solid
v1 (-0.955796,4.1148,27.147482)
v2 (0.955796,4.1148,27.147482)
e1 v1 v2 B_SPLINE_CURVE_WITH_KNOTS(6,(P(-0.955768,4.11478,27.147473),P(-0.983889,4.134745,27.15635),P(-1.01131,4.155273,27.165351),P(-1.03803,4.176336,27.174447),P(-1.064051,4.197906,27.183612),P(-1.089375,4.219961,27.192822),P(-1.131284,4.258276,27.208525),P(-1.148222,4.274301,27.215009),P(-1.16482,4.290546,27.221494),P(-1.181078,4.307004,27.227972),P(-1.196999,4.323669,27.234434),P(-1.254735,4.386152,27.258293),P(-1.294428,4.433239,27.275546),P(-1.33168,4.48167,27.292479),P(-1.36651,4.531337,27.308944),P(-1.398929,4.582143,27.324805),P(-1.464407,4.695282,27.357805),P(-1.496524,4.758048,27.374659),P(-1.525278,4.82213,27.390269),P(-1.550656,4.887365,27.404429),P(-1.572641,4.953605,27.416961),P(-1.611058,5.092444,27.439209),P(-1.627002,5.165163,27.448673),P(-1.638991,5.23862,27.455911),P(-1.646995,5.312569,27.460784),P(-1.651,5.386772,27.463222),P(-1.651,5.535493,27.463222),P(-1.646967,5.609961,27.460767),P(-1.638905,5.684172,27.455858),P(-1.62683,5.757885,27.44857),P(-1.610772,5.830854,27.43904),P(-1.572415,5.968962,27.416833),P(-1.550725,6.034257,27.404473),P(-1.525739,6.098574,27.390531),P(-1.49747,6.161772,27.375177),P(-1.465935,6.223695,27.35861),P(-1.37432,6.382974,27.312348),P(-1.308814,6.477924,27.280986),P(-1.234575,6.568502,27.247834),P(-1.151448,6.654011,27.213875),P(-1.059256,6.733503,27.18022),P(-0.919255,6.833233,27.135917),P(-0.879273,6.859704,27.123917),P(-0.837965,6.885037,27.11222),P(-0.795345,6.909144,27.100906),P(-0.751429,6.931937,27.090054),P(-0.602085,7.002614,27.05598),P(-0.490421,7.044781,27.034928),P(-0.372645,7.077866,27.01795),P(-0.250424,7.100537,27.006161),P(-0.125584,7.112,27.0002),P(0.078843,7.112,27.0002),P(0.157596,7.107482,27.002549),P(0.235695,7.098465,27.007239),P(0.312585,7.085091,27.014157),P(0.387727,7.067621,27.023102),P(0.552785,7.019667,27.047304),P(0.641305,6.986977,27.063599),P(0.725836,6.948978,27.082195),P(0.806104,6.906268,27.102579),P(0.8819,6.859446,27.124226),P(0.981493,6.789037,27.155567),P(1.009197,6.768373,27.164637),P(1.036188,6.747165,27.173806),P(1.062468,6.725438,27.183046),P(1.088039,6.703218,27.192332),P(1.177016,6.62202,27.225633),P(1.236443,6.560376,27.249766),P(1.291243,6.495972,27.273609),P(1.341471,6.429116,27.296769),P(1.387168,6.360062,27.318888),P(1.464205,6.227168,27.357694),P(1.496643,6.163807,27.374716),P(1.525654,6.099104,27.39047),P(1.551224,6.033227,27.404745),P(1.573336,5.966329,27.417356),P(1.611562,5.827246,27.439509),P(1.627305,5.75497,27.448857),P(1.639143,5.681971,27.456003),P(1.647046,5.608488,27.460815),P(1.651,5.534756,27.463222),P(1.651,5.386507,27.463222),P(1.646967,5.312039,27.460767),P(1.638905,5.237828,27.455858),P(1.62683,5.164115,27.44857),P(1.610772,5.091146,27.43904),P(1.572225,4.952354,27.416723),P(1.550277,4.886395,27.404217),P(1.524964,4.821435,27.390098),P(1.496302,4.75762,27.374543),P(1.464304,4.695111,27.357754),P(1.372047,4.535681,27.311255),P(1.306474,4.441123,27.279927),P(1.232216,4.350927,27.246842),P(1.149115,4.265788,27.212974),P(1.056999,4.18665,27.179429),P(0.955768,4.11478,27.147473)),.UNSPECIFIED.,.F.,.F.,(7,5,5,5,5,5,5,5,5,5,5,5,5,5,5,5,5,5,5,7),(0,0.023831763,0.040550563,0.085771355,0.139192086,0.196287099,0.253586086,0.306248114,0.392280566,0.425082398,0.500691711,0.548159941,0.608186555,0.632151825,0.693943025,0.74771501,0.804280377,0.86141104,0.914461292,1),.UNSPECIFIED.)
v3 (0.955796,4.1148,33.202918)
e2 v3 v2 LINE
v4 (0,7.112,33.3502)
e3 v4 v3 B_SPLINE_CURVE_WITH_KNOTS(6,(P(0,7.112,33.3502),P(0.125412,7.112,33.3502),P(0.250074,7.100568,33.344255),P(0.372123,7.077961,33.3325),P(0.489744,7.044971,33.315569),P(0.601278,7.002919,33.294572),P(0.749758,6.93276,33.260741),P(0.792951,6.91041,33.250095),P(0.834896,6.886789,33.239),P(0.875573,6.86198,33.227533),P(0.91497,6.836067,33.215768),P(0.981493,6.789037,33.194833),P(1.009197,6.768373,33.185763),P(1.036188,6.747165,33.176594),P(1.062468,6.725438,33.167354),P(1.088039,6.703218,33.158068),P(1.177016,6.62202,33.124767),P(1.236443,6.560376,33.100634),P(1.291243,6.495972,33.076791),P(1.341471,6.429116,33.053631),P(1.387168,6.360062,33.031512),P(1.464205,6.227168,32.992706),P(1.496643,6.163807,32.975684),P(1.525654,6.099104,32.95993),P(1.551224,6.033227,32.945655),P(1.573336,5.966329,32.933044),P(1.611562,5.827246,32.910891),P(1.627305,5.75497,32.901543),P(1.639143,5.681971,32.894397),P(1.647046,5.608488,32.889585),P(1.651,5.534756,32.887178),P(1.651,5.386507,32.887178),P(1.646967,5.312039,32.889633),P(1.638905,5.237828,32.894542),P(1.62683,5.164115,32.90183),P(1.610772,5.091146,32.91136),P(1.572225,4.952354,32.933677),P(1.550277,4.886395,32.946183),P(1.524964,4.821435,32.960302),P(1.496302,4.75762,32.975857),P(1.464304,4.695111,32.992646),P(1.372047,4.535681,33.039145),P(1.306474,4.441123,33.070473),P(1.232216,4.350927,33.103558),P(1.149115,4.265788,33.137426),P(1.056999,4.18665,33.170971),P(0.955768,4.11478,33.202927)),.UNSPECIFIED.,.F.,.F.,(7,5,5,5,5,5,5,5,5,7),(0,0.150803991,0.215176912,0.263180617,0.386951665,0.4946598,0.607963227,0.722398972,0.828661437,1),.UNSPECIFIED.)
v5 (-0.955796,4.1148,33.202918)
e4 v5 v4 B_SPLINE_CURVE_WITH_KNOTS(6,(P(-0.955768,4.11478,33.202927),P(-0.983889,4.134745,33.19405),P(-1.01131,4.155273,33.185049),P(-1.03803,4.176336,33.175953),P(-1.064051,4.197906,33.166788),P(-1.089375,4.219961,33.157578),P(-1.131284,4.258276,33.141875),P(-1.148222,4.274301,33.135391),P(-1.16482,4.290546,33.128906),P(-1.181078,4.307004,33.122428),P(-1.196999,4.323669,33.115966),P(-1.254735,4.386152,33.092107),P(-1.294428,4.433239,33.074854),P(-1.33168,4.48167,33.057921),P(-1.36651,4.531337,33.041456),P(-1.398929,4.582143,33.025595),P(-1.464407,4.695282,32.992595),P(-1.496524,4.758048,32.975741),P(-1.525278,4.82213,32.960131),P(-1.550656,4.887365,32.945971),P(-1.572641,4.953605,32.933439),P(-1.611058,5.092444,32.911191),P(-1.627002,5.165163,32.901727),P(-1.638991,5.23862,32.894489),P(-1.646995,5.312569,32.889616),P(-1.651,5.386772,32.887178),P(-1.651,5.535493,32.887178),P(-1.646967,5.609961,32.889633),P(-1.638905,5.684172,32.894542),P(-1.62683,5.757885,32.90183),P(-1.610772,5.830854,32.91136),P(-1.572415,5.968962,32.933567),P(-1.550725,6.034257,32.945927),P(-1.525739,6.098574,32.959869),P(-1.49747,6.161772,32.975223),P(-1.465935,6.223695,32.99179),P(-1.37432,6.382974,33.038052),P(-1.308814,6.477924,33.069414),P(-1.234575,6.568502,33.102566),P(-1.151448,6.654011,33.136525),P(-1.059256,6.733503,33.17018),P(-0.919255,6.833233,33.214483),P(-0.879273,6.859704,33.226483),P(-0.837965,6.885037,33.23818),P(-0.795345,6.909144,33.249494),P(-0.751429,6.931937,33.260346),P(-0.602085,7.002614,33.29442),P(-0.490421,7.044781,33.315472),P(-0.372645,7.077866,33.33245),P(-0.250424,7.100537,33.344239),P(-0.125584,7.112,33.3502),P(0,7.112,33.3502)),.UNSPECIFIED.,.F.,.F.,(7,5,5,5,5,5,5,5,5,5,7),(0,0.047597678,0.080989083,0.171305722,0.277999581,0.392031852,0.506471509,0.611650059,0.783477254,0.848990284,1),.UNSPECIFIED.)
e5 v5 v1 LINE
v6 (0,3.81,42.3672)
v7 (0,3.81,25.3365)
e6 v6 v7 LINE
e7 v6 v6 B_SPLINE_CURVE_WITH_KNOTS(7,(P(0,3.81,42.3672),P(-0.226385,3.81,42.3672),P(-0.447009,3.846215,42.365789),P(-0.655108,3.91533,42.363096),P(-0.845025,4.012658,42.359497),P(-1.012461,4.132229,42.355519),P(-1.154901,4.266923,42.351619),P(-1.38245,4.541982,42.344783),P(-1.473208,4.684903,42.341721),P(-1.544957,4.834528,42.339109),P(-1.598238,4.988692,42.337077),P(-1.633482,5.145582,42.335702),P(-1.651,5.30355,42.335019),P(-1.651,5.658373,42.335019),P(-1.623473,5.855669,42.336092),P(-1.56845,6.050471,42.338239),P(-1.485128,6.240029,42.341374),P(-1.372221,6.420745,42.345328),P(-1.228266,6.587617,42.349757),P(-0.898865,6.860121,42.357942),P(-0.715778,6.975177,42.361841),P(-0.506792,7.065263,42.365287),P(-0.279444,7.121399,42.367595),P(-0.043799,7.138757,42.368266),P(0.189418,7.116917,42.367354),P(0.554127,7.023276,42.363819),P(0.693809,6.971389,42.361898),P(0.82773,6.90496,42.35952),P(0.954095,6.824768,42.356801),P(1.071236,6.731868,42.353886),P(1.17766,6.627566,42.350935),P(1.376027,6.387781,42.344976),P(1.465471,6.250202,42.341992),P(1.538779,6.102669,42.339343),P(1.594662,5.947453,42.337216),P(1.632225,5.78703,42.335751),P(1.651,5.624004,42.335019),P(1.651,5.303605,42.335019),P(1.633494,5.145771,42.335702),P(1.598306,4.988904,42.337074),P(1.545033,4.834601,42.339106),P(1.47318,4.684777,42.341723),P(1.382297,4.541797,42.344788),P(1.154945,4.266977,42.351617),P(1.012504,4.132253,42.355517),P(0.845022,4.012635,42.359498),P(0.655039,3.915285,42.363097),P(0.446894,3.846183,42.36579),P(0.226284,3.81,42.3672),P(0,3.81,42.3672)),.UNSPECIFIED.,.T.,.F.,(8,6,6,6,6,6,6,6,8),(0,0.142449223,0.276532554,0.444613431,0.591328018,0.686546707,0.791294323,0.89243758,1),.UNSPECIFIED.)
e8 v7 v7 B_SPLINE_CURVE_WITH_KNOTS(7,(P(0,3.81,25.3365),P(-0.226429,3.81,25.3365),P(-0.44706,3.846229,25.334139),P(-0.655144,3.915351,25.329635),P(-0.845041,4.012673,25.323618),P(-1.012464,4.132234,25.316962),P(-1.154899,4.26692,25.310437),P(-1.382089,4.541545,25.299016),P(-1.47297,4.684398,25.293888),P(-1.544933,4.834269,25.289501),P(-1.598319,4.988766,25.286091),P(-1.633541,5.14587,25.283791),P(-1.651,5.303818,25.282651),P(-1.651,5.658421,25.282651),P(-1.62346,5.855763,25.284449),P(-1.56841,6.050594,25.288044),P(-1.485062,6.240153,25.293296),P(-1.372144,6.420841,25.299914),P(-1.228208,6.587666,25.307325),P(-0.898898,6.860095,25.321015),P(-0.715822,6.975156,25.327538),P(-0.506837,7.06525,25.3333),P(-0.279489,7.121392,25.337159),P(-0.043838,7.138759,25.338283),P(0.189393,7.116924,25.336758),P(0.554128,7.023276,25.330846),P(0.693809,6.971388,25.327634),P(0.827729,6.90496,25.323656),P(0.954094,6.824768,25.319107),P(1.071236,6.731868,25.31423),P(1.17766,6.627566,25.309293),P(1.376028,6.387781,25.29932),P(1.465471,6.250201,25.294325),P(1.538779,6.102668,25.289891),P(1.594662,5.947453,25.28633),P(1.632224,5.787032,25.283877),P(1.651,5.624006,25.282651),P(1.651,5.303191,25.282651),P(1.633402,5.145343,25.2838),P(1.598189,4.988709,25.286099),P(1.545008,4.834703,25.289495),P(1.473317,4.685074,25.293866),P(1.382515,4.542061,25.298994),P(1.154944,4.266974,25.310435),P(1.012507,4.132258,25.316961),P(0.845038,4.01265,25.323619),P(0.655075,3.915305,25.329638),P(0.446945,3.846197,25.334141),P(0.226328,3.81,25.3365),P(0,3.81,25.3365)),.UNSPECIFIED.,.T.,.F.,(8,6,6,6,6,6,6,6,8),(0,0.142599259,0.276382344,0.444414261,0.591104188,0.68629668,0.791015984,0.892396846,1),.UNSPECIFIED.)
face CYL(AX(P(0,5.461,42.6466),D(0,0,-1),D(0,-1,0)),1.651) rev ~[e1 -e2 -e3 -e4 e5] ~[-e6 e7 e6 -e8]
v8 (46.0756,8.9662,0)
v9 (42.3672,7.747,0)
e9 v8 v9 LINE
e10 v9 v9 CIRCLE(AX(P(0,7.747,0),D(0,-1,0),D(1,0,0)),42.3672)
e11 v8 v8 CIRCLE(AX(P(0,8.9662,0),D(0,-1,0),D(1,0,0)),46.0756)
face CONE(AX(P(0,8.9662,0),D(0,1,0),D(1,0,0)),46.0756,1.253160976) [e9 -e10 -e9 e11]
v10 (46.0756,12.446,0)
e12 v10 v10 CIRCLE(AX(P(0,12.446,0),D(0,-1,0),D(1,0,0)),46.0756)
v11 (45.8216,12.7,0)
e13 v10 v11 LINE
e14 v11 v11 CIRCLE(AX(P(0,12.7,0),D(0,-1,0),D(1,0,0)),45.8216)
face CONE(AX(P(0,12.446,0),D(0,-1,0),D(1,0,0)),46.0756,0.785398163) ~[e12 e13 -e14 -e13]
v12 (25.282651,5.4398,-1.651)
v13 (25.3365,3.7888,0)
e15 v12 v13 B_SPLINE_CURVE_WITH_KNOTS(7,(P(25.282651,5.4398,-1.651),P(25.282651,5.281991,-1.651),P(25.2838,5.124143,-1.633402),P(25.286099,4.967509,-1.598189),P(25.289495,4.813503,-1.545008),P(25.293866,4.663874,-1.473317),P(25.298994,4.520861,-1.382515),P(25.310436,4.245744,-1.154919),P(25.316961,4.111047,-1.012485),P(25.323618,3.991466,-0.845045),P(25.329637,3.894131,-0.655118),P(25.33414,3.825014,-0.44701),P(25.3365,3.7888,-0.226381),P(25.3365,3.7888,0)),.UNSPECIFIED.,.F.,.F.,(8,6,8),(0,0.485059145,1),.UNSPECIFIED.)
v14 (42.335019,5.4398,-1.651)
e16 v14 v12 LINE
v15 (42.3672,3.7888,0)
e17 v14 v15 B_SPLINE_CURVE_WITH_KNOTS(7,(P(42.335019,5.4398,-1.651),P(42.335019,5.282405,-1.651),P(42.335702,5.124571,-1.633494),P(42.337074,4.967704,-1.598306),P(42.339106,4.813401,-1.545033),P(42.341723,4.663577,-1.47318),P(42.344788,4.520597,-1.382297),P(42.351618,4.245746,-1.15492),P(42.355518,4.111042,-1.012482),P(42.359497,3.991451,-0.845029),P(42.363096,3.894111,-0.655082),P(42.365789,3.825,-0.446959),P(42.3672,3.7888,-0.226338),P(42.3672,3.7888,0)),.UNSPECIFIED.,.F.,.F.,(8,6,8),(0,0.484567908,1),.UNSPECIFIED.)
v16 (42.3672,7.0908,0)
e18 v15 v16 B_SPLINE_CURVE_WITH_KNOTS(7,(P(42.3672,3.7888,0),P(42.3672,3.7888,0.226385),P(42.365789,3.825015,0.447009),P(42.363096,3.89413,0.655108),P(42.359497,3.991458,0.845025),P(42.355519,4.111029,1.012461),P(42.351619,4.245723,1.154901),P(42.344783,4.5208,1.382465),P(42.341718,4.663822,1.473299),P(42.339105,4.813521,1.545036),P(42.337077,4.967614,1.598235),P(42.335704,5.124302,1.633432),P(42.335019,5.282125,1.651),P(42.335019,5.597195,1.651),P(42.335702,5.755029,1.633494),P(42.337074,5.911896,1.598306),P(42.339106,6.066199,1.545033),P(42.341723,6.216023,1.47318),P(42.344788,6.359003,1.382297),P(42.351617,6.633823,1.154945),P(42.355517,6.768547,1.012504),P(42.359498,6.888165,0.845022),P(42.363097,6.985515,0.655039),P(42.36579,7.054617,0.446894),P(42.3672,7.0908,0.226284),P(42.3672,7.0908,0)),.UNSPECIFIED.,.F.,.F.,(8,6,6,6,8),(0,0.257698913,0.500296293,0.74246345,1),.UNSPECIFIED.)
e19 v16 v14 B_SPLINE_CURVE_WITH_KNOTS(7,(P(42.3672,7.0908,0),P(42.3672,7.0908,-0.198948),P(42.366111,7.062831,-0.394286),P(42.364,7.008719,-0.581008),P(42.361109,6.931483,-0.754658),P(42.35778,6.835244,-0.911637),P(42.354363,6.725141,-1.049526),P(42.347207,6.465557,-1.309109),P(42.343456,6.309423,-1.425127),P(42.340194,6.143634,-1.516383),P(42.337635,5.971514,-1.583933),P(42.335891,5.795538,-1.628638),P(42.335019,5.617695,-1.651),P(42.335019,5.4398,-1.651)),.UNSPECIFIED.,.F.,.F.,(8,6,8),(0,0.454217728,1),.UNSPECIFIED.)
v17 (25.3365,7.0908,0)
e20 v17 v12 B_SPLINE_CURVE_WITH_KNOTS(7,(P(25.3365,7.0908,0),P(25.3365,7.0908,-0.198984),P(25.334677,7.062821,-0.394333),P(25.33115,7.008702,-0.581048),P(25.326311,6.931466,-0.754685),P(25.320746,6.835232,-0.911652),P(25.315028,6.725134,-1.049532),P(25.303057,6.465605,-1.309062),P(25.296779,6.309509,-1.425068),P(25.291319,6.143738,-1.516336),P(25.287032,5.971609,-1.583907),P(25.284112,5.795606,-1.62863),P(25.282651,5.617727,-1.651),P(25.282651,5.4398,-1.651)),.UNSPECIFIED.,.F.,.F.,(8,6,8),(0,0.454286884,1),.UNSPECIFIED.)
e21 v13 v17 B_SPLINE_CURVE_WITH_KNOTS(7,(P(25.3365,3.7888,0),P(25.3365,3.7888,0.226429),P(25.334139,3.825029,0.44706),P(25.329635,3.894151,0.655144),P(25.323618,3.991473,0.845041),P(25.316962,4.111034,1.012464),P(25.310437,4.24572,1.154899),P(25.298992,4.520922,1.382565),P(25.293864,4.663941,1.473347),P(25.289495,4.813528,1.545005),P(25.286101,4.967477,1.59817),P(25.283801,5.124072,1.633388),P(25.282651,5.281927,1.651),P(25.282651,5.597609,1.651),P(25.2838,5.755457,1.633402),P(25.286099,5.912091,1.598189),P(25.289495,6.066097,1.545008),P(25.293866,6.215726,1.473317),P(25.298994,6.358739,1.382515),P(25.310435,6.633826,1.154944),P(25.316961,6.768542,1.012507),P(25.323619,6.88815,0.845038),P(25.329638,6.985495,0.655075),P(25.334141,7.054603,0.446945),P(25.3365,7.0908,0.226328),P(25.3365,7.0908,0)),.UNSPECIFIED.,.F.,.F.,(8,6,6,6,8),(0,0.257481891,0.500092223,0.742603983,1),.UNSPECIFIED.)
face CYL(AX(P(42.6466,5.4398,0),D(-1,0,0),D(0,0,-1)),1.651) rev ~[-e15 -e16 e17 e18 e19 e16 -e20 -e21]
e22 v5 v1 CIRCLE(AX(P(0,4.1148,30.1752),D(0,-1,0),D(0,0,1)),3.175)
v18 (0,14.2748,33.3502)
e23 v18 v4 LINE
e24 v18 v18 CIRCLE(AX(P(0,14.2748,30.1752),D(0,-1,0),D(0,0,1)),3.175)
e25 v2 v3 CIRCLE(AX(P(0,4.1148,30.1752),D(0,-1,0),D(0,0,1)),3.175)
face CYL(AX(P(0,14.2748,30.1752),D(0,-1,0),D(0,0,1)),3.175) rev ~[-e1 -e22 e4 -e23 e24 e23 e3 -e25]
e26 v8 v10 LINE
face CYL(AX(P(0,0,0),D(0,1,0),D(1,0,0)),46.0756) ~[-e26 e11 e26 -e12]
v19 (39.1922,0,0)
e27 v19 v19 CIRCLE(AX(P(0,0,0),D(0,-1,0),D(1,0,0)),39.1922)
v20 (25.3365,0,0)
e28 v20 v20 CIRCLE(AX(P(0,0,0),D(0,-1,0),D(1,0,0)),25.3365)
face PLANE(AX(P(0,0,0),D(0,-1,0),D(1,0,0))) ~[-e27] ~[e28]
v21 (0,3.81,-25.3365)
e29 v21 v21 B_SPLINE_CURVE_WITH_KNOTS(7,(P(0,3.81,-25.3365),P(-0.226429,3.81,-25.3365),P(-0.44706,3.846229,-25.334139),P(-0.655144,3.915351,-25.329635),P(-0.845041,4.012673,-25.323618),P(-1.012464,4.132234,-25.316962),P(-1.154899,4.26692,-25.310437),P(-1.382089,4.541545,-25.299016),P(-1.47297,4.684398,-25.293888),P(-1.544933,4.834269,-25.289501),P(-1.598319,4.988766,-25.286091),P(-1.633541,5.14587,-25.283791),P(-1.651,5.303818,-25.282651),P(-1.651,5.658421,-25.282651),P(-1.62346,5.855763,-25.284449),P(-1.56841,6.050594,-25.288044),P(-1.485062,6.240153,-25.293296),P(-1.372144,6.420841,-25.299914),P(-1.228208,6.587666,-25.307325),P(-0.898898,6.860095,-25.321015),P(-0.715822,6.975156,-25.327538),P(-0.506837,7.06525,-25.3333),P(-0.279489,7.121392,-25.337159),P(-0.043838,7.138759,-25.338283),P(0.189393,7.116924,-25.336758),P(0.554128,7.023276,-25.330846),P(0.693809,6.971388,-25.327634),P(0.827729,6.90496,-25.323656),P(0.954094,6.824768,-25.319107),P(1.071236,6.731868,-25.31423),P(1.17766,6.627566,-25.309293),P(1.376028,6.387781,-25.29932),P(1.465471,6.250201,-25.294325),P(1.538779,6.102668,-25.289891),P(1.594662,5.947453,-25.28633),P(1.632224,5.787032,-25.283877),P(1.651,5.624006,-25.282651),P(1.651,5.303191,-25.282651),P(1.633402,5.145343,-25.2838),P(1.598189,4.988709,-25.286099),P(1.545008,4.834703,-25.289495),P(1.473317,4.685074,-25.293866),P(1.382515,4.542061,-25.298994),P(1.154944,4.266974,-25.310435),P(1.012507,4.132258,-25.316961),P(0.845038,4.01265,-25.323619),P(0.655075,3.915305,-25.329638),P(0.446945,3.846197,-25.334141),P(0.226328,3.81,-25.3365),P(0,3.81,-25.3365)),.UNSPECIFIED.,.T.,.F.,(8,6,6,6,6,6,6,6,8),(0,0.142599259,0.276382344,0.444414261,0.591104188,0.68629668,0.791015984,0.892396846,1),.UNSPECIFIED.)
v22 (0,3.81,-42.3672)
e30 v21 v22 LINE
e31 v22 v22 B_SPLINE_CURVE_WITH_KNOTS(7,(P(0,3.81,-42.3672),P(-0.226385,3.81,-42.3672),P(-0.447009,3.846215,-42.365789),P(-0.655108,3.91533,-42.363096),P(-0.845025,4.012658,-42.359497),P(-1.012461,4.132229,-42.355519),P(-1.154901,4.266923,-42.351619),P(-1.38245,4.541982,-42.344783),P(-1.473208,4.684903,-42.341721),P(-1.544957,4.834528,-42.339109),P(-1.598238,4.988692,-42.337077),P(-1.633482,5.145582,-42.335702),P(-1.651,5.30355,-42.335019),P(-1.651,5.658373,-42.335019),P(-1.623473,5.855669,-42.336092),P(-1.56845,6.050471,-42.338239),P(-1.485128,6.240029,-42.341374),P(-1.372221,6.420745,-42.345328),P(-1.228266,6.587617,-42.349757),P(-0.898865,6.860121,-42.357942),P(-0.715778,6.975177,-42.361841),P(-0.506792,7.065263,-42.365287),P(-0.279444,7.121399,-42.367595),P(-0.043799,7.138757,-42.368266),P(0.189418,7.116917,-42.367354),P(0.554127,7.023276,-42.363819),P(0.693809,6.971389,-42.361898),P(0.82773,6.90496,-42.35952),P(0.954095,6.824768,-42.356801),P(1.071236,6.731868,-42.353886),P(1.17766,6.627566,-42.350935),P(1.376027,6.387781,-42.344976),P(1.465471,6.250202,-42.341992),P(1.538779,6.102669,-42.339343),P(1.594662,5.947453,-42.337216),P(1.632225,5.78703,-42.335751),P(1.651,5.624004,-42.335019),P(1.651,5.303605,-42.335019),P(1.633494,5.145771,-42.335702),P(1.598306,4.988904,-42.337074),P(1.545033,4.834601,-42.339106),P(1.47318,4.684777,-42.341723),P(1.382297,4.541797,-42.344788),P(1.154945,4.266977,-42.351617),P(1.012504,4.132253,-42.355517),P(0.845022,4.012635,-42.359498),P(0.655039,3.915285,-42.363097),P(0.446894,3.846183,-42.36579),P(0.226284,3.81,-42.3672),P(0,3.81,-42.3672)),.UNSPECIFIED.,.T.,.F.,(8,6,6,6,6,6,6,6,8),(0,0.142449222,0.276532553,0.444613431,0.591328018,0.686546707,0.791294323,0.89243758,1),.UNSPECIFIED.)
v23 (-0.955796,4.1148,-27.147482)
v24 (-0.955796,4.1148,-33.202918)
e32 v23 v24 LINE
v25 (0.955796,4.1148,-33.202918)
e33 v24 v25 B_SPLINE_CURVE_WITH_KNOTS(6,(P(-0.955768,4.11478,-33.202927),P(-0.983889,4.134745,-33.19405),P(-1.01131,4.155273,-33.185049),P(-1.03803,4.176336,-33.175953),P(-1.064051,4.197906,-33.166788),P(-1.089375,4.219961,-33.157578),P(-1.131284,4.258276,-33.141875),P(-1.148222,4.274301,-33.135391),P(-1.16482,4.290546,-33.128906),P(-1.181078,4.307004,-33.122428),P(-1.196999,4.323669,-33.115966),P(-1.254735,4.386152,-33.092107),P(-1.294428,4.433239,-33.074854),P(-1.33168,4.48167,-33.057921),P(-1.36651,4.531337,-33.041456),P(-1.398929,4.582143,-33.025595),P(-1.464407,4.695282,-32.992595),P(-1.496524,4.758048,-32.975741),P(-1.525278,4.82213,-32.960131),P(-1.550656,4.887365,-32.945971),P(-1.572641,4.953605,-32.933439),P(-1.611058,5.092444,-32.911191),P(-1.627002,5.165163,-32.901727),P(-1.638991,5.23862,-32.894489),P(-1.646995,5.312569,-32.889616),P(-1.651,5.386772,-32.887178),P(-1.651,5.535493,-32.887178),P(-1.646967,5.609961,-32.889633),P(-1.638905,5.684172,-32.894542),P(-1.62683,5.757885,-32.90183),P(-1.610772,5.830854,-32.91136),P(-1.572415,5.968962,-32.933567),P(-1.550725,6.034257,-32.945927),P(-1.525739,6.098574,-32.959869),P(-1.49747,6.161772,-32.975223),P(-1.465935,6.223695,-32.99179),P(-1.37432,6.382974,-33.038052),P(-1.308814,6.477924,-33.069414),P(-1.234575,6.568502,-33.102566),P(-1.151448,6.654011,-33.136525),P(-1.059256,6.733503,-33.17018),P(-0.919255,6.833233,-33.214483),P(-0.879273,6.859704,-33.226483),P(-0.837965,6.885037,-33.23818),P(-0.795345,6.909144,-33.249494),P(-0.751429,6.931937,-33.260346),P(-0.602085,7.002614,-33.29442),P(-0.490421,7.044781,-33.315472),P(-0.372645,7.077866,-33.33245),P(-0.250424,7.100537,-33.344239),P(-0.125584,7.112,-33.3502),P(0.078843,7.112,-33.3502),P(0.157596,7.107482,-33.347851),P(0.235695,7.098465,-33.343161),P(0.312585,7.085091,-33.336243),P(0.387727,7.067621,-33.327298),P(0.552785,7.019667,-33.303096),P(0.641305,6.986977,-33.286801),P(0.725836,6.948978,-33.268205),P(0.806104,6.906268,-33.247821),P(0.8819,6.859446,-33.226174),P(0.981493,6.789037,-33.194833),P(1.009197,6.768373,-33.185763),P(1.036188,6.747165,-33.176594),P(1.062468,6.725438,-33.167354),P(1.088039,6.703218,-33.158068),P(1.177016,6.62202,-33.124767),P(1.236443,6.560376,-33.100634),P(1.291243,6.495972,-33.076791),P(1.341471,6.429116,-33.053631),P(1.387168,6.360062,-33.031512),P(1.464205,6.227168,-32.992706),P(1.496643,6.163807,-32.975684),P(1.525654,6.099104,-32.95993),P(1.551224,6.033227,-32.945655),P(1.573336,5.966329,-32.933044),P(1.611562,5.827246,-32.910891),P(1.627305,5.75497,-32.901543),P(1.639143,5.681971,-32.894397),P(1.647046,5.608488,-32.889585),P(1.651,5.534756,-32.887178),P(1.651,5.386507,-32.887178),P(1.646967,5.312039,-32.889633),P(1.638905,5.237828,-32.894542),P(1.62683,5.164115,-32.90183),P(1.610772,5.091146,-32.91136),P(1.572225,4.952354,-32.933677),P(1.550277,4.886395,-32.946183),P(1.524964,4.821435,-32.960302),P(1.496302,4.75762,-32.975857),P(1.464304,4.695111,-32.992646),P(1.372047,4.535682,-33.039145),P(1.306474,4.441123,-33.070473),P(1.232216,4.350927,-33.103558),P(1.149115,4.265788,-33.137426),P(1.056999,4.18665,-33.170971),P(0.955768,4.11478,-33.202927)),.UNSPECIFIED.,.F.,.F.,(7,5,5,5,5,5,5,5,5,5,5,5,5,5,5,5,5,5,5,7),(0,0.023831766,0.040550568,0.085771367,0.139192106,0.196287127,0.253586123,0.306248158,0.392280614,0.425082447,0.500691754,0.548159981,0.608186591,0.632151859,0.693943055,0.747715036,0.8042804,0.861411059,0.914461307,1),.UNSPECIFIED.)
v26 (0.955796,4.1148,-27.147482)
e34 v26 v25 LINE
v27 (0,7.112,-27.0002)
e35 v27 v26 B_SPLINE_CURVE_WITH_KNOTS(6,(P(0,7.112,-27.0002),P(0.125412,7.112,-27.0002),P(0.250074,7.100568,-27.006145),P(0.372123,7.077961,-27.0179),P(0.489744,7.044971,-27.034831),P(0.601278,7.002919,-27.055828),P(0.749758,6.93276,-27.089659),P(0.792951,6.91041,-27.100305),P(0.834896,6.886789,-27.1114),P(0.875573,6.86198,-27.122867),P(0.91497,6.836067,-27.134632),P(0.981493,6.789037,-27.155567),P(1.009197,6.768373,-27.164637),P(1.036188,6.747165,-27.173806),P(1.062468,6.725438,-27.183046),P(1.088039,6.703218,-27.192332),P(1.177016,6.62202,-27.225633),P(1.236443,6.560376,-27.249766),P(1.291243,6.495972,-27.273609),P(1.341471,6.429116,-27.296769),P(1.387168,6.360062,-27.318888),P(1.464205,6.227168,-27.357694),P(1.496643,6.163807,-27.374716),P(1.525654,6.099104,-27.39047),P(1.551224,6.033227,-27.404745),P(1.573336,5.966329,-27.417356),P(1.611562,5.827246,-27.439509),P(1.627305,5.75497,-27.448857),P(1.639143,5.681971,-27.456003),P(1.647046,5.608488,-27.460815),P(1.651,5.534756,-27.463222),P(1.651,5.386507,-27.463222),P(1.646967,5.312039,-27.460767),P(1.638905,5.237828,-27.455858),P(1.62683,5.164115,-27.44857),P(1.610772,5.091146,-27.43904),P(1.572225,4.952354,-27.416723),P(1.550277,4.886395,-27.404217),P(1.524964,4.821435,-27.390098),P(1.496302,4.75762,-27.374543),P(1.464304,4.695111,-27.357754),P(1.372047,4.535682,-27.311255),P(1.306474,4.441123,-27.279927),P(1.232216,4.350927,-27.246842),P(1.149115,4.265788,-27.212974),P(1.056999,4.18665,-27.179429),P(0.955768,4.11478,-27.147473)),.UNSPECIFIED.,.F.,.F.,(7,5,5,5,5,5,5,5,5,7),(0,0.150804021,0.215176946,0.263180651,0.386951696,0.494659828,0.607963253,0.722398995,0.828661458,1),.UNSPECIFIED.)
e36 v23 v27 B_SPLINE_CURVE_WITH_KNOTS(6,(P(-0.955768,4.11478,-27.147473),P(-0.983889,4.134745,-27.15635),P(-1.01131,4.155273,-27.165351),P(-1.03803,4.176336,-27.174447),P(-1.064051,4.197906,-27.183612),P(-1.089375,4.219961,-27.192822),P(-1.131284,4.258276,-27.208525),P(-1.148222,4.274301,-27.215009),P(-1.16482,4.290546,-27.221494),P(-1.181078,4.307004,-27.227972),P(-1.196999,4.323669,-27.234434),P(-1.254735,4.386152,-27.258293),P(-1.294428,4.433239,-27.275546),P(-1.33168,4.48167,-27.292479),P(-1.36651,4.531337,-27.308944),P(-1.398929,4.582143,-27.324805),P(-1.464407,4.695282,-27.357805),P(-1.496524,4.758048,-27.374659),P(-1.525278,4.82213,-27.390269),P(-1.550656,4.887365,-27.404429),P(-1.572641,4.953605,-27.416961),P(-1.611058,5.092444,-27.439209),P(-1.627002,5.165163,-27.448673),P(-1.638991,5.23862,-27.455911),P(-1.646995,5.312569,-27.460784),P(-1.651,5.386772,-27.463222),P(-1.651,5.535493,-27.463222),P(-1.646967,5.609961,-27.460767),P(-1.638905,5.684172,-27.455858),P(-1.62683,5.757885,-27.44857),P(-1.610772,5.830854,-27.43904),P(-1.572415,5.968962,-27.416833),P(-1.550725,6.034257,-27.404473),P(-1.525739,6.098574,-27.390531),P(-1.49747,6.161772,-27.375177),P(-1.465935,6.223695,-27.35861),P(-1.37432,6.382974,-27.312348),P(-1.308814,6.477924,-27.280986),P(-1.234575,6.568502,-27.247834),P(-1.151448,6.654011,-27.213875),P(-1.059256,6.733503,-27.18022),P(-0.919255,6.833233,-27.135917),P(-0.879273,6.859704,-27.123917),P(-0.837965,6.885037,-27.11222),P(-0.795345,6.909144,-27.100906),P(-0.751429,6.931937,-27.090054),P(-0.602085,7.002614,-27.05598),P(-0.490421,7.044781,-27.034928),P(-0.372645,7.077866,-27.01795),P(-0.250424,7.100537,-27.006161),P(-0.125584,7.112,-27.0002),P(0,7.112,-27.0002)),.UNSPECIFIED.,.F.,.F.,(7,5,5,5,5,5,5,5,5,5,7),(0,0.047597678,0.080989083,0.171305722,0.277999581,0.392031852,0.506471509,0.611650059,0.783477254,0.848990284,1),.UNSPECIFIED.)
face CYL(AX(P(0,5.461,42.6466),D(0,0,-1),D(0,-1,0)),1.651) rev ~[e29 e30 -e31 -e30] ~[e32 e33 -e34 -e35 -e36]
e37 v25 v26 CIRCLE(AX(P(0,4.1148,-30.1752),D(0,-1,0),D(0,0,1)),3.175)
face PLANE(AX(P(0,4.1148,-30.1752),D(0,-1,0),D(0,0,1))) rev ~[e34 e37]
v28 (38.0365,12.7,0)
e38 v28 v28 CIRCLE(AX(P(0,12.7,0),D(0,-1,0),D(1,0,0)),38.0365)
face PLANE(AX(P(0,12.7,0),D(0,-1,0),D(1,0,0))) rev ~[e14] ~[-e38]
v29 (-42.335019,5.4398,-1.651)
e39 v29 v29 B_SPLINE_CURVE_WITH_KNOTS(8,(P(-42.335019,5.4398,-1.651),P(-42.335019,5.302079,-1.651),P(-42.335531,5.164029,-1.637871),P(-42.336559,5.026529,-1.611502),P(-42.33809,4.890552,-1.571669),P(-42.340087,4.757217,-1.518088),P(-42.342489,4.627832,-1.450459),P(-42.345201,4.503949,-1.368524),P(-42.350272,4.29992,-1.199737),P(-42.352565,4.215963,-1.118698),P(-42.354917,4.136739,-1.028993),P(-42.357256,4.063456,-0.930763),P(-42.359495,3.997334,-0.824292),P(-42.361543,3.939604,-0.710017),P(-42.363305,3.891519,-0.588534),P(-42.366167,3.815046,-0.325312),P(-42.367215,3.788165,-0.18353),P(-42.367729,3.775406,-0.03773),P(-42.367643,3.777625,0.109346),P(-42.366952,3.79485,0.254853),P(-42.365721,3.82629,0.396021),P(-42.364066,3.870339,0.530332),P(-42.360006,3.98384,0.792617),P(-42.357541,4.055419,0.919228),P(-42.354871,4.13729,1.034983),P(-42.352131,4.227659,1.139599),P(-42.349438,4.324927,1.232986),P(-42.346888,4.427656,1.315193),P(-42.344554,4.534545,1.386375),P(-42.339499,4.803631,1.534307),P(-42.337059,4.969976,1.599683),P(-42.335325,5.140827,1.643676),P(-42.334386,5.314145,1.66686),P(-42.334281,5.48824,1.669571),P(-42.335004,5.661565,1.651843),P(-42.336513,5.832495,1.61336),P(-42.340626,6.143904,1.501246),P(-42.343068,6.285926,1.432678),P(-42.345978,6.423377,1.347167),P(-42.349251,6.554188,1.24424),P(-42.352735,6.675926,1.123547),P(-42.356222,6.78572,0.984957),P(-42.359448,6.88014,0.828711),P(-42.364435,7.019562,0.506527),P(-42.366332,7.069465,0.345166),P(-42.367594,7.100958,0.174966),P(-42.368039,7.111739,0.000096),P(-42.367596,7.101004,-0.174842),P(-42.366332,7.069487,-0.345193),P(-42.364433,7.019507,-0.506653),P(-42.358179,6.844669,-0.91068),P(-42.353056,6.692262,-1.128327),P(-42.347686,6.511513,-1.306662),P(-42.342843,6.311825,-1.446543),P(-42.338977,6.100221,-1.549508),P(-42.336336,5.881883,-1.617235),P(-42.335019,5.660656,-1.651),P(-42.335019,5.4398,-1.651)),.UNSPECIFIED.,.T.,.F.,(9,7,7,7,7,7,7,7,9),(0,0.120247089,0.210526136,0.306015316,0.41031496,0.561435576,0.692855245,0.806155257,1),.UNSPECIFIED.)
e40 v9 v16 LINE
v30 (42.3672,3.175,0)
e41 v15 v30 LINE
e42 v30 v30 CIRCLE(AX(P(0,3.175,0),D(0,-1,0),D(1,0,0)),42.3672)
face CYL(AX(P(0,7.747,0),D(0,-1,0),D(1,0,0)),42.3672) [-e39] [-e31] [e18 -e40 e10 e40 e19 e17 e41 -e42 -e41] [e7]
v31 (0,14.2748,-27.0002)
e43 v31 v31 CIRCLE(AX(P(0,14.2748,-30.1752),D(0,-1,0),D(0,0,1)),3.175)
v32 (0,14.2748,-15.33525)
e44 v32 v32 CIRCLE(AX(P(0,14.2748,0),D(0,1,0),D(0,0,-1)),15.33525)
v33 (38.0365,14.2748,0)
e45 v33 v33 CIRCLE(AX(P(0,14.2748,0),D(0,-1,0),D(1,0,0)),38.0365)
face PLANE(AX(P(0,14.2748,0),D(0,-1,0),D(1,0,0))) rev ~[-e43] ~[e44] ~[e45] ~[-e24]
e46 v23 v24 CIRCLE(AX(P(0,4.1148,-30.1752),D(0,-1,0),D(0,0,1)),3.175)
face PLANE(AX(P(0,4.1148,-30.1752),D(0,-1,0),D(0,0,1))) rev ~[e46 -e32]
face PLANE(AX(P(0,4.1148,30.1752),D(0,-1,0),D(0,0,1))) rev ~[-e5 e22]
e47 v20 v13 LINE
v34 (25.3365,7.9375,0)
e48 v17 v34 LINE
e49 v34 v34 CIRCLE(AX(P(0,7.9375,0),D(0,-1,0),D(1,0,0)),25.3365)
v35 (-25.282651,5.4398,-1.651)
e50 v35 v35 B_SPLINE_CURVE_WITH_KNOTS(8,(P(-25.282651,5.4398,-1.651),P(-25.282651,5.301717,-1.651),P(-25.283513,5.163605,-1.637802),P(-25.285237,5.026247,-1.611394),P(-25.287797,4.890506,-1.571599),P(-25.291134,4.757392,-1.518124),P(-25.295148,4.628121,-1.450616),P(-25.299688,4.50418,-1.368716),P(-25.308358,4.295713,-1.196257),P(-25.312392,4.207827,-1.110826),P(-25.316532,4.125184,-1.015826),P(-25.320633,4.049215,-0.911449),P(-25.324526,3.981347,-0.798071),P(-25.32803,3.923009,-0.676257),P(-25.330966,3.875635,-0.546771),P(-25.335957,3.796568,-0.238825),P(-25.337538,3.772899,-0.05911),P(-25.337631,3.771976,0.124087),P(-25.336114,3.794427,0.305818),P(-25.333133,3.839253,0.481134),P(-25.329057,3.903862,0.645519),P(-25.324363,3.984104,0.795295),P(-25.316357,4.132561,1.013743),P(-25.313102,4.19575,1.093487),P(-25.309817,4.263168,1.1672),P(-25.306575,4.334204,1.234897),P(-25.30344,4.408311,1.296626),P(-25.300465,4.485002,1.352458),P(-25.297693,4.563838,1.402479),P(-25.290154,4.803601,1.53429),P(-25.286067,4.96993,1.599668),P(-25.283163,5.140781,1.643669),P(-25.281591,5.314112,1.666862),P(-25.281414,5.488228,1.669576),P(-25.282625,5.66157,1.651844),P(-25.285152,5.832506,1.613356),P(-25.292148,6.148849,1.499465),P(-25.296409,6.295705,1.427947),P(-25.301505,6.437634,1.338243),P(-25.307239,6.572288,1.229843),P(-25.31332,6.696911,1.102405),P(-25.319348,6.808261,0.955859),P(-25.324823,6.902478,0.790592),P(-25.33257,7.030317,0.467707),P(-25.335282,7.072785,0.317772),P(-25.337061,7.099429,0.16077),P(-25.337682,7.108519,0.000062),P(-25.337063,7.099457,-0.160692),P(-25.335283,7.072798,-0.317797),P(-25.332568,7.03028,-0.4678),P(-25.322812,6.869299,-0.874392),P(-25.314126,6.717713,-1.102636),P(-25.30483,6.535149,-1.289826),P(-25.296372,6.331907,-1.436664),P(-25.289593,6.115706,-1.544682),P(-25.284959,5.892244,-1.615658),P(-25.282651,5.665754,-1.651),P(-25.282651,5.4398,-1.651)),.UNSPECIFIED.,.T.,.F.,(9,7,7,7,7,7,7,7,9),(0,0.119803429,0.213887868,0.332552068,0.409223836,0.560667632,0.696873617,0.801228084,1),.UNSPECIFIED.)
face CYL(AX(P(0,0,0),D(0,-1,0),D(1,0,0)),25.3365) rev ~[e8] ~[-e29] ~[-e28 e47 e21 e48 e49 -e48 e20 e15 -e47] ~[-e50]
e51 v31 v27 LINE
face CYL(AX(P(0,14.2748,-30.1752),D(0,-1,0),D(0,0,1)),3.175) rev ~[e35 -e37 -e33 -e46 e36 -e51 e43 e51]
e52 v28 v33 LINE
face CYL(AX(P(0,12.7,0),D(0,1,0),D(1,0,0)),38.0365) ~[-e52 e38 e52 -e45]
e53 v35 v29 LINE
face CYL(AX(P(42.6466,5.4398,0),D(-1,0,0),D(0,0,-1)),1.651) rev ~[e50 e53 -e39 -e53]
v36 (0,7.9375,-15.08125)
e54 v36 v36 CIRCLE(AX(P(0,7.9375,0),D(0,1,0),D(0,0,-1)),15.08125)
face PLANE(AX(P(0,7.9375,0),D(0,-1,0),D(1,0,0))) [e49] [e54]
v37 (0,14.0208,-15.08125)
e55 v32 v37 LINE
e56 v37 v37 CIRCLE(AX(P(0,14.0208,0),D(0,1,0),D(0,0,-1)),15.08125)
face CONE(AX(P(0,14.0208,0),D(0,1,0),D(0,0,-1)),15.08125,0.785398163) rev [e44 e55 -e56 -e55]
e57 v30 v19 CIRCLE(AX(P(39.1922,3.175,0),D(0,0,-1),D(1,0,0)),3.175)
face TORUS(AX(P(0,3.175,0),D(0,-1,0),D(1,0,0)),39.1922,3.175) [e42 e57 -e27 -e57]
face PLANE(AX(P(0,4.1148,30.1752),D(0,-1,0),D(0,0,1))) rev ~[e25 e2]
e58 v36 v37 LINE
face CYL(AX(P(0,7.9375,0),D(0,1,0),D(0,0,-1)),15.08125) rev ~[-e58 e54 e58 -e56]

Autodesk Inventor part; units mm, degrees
sketch "Sketch1" plane through (0, 0, 0) normal (0, 0, 1) x (1, 0, 0)
  line L0 (17.5514, 0) -> (46.0756, 0)
  line L1 (46.0756, 0) -> (46.0756, 12.7)
  line L2 (46.0756, 12.7) -> (0, 12.7)
  line L3 (0, 12.7) -> (0, 0)
  line L4 (17.5514, 12.7) -> (17.5514, 0)
  line L5 (46.0756, 8.9662) -> (42.3672, 8.9662)
  line L6 (42.3672, 7.747) -> (42.3672, 0)
  line L7 (46.0756, 7.747) -> (42.3672, 7.747)
  line L8 (46.0756, 8.9662) -> (42.3672, 7.747)
  line L9 (0, 11.1252) -> (0, 12.7)
  line L10 (17.5514, 0) -> (23.85, 0)
  line L11 (0, -2.5) -> (0, 0)
  line L12 (0, 12.7) -> (38.0365, 12.7)
  line L13 (38.0365, 12.7) -> (38.0365, 14.2748)
  line L14 (38.0365, 14.2748) -> (0, 14.2748)
  line L15 (0, 14.2748) -> (0, 12.7)
  line L16 (17.5514, 12.7) -> (17.5514, 14.2748)
  line L17 (0, 0) -> (17.5514, 0)
  dimension "d1" = 12.7
  dimension "d3" = 3.7338
  dimension "d5" = 4.953
  dimension "d8" = 17.5514
  dimension "d9" = 42.3672
  dimension "d10" = 46.0756
  dimension "d11" = 1.5748
  dimension "d12" = 38.0365
revolve "Revolution1" add sketch "Sketch1" angle 360 about axis through (0, 12.7, 0) along (0, -1, 0) contours L4 L2 L1 L8 L6 L0 | L17 L3 L2 L4 | L16 L14 L13 L2 | L2 L15 L14 L16
sketch "Sketch2" plane through (0, 14.2748, 0) normal (0, 1, 0) x (1, 0, 0)
  circle A0 centre (0, 0) radius 30.1752
  point P0 (0, 30.1752)
  point P1 (0, -30.1752)
  dimension "d14" = 60.3504
hole "Hole1" at (0, 14.2748, -30.1752) at (0, 14.2748, 30.1752) direction (0, -1, 0) diameter 6.35 depth 10.16
fillet "Fillet1" radius 3.175 1 edges at (-42.3672, 0, 0)
sketch "Sketch3" plane through (0, 0, 0) normal (0, -1, 0) x (1, 0, 0)
  circle A0 centre (0, 0) radius 25.3365
  dimension "d23" = 50.673
extrude "Extrusion1" cut sketch "Sketch3" against normal blind 7.9375
sketch "Sketch5" plane through (0, 7.9375, 0) normal (0, -1, 0) x (1, 0, 0)
  line L0 (42.3672, -42.3672) -> (42.3672, 42.3672)
  line L1 (42.3672, 42.3672) -> (-42.3672, 42.3672)
  line L2 (-42.3672, 42.3672) -> (-42.3672, -42.3672)
  line L3 (-42.3672, -42.3672) -> (42.3672, -42.3672)
  line L4 (42.3672, -42.3672) -> (-42.3672, 42.3672) construction
  line L5 (42.3672, 42.3672) -> (-42.3672, -42.3672) construction
  point P0 (0, 0)
sketch "Sketch6" plane through (0, 0, 0) normal (1, 0, 0) x (0, 1, 0)
  point P0 (0, 0)
ref_plane "Work Plane1" through (42.6466, 0, 0) normal (1, 0, 0) x (0, 1, 0)
sketch "Sketch7" plane through (42.6466, 0, 0) normal (1, 0, 0) x (0, 1, 0)
  line L0 (3.175, 42.3672) -> (3.175, -42.3672) projected
  line L1 (3.175, 0) -> (7.7045, 0)
  point P0 (0, 0)
  point P1 (5.4398, 0)
ref_plane "Work Plane2" through (-42.6466, 0, 0) normal (1, 0, 0) x (0, 1, 0)
sketch "Sketch9" plane through (-42.6466, 0, 0) normal (1, 0, 0) x (0, 1, 0)
  line L0 (3.175, 42.3672) -> (3.175, -42.3672) projected
  line L1 (3.175, 0) -> (7.747, 0)
  line L2 (7.747, 42.3672) -> (7.747, -42.3672) projected
  point P0 (0, 0)
  point P1 (5.461, 0)
ref_plane "Work Plane3" through (0, 0, -42.6466) normal (0, 0, 1) x (1, 0, 0)
sketch "Sketch10" plane through (0, 0, -42.6466) normal (0, 0, 1) x (1, 0, 0)
  line L0 (-42.3672, 7.747) -> (42.3672, 7.747) projected
  line L1 (0, 7.747) -> (0, 3.175)
  line L2 (-42.3672, 3.175) -> (42.3672, 3.175) projected
  point P0 (0, 0)
  point P1 (0, 5.461)
ref_plane "Work Plane4" through (0, 0, 42.6466) normal (0, 0, 1) x (1, 0, 0)
sketch "Sketch11" plane through (0, 0, 42.6466) normal (0, 0, 1) x (1, 0, 0)
  line L0 (-42.3672, 3.175) -> (42.3672, 3.175) projected
  line L1 (0, 3.175) -> (0, 7.747)
  line L2 (-42.3672, 7.747) -> (42.3672, 7.747) projected
  point P0 (0, 0)
  point P1 (0, 5.461)
hole "Hole2" at (-42.6466, 5.461, 0) direction (-1, 0, 0) diameter 3.302 end through all thread size "8-32 UNC" class "2B" standard "ANSI Unified Screw Threads"
hole "Hole3" at (42.6466, 5.4398, 0) direction (-1, 0, 0) diameter 3.302 end through all thread size "8-32 UNC" class "2B" standard "ANSI Unified Screw Threads"
hole "Hole4" at (0, 5.461, 42.6466) direction (0, 0, -1) diameter 3.302 end through all thread size "8-32 UNC" class "2B" standard "ANSI Unified Screw Threads"
hole "Hole5" at (0, 7.9375, 0) direction (0, 1, 0) diameter 30.1625 end through all
chamfer "Chamfer1" distance 0.254 angle 45 2 edges at (-46.0756, 12.7, 0) (0, 14.2748, 15.0812)
properties part number "2016.06.09 Judson M204 Adapter" material "Aluminum 6061"
